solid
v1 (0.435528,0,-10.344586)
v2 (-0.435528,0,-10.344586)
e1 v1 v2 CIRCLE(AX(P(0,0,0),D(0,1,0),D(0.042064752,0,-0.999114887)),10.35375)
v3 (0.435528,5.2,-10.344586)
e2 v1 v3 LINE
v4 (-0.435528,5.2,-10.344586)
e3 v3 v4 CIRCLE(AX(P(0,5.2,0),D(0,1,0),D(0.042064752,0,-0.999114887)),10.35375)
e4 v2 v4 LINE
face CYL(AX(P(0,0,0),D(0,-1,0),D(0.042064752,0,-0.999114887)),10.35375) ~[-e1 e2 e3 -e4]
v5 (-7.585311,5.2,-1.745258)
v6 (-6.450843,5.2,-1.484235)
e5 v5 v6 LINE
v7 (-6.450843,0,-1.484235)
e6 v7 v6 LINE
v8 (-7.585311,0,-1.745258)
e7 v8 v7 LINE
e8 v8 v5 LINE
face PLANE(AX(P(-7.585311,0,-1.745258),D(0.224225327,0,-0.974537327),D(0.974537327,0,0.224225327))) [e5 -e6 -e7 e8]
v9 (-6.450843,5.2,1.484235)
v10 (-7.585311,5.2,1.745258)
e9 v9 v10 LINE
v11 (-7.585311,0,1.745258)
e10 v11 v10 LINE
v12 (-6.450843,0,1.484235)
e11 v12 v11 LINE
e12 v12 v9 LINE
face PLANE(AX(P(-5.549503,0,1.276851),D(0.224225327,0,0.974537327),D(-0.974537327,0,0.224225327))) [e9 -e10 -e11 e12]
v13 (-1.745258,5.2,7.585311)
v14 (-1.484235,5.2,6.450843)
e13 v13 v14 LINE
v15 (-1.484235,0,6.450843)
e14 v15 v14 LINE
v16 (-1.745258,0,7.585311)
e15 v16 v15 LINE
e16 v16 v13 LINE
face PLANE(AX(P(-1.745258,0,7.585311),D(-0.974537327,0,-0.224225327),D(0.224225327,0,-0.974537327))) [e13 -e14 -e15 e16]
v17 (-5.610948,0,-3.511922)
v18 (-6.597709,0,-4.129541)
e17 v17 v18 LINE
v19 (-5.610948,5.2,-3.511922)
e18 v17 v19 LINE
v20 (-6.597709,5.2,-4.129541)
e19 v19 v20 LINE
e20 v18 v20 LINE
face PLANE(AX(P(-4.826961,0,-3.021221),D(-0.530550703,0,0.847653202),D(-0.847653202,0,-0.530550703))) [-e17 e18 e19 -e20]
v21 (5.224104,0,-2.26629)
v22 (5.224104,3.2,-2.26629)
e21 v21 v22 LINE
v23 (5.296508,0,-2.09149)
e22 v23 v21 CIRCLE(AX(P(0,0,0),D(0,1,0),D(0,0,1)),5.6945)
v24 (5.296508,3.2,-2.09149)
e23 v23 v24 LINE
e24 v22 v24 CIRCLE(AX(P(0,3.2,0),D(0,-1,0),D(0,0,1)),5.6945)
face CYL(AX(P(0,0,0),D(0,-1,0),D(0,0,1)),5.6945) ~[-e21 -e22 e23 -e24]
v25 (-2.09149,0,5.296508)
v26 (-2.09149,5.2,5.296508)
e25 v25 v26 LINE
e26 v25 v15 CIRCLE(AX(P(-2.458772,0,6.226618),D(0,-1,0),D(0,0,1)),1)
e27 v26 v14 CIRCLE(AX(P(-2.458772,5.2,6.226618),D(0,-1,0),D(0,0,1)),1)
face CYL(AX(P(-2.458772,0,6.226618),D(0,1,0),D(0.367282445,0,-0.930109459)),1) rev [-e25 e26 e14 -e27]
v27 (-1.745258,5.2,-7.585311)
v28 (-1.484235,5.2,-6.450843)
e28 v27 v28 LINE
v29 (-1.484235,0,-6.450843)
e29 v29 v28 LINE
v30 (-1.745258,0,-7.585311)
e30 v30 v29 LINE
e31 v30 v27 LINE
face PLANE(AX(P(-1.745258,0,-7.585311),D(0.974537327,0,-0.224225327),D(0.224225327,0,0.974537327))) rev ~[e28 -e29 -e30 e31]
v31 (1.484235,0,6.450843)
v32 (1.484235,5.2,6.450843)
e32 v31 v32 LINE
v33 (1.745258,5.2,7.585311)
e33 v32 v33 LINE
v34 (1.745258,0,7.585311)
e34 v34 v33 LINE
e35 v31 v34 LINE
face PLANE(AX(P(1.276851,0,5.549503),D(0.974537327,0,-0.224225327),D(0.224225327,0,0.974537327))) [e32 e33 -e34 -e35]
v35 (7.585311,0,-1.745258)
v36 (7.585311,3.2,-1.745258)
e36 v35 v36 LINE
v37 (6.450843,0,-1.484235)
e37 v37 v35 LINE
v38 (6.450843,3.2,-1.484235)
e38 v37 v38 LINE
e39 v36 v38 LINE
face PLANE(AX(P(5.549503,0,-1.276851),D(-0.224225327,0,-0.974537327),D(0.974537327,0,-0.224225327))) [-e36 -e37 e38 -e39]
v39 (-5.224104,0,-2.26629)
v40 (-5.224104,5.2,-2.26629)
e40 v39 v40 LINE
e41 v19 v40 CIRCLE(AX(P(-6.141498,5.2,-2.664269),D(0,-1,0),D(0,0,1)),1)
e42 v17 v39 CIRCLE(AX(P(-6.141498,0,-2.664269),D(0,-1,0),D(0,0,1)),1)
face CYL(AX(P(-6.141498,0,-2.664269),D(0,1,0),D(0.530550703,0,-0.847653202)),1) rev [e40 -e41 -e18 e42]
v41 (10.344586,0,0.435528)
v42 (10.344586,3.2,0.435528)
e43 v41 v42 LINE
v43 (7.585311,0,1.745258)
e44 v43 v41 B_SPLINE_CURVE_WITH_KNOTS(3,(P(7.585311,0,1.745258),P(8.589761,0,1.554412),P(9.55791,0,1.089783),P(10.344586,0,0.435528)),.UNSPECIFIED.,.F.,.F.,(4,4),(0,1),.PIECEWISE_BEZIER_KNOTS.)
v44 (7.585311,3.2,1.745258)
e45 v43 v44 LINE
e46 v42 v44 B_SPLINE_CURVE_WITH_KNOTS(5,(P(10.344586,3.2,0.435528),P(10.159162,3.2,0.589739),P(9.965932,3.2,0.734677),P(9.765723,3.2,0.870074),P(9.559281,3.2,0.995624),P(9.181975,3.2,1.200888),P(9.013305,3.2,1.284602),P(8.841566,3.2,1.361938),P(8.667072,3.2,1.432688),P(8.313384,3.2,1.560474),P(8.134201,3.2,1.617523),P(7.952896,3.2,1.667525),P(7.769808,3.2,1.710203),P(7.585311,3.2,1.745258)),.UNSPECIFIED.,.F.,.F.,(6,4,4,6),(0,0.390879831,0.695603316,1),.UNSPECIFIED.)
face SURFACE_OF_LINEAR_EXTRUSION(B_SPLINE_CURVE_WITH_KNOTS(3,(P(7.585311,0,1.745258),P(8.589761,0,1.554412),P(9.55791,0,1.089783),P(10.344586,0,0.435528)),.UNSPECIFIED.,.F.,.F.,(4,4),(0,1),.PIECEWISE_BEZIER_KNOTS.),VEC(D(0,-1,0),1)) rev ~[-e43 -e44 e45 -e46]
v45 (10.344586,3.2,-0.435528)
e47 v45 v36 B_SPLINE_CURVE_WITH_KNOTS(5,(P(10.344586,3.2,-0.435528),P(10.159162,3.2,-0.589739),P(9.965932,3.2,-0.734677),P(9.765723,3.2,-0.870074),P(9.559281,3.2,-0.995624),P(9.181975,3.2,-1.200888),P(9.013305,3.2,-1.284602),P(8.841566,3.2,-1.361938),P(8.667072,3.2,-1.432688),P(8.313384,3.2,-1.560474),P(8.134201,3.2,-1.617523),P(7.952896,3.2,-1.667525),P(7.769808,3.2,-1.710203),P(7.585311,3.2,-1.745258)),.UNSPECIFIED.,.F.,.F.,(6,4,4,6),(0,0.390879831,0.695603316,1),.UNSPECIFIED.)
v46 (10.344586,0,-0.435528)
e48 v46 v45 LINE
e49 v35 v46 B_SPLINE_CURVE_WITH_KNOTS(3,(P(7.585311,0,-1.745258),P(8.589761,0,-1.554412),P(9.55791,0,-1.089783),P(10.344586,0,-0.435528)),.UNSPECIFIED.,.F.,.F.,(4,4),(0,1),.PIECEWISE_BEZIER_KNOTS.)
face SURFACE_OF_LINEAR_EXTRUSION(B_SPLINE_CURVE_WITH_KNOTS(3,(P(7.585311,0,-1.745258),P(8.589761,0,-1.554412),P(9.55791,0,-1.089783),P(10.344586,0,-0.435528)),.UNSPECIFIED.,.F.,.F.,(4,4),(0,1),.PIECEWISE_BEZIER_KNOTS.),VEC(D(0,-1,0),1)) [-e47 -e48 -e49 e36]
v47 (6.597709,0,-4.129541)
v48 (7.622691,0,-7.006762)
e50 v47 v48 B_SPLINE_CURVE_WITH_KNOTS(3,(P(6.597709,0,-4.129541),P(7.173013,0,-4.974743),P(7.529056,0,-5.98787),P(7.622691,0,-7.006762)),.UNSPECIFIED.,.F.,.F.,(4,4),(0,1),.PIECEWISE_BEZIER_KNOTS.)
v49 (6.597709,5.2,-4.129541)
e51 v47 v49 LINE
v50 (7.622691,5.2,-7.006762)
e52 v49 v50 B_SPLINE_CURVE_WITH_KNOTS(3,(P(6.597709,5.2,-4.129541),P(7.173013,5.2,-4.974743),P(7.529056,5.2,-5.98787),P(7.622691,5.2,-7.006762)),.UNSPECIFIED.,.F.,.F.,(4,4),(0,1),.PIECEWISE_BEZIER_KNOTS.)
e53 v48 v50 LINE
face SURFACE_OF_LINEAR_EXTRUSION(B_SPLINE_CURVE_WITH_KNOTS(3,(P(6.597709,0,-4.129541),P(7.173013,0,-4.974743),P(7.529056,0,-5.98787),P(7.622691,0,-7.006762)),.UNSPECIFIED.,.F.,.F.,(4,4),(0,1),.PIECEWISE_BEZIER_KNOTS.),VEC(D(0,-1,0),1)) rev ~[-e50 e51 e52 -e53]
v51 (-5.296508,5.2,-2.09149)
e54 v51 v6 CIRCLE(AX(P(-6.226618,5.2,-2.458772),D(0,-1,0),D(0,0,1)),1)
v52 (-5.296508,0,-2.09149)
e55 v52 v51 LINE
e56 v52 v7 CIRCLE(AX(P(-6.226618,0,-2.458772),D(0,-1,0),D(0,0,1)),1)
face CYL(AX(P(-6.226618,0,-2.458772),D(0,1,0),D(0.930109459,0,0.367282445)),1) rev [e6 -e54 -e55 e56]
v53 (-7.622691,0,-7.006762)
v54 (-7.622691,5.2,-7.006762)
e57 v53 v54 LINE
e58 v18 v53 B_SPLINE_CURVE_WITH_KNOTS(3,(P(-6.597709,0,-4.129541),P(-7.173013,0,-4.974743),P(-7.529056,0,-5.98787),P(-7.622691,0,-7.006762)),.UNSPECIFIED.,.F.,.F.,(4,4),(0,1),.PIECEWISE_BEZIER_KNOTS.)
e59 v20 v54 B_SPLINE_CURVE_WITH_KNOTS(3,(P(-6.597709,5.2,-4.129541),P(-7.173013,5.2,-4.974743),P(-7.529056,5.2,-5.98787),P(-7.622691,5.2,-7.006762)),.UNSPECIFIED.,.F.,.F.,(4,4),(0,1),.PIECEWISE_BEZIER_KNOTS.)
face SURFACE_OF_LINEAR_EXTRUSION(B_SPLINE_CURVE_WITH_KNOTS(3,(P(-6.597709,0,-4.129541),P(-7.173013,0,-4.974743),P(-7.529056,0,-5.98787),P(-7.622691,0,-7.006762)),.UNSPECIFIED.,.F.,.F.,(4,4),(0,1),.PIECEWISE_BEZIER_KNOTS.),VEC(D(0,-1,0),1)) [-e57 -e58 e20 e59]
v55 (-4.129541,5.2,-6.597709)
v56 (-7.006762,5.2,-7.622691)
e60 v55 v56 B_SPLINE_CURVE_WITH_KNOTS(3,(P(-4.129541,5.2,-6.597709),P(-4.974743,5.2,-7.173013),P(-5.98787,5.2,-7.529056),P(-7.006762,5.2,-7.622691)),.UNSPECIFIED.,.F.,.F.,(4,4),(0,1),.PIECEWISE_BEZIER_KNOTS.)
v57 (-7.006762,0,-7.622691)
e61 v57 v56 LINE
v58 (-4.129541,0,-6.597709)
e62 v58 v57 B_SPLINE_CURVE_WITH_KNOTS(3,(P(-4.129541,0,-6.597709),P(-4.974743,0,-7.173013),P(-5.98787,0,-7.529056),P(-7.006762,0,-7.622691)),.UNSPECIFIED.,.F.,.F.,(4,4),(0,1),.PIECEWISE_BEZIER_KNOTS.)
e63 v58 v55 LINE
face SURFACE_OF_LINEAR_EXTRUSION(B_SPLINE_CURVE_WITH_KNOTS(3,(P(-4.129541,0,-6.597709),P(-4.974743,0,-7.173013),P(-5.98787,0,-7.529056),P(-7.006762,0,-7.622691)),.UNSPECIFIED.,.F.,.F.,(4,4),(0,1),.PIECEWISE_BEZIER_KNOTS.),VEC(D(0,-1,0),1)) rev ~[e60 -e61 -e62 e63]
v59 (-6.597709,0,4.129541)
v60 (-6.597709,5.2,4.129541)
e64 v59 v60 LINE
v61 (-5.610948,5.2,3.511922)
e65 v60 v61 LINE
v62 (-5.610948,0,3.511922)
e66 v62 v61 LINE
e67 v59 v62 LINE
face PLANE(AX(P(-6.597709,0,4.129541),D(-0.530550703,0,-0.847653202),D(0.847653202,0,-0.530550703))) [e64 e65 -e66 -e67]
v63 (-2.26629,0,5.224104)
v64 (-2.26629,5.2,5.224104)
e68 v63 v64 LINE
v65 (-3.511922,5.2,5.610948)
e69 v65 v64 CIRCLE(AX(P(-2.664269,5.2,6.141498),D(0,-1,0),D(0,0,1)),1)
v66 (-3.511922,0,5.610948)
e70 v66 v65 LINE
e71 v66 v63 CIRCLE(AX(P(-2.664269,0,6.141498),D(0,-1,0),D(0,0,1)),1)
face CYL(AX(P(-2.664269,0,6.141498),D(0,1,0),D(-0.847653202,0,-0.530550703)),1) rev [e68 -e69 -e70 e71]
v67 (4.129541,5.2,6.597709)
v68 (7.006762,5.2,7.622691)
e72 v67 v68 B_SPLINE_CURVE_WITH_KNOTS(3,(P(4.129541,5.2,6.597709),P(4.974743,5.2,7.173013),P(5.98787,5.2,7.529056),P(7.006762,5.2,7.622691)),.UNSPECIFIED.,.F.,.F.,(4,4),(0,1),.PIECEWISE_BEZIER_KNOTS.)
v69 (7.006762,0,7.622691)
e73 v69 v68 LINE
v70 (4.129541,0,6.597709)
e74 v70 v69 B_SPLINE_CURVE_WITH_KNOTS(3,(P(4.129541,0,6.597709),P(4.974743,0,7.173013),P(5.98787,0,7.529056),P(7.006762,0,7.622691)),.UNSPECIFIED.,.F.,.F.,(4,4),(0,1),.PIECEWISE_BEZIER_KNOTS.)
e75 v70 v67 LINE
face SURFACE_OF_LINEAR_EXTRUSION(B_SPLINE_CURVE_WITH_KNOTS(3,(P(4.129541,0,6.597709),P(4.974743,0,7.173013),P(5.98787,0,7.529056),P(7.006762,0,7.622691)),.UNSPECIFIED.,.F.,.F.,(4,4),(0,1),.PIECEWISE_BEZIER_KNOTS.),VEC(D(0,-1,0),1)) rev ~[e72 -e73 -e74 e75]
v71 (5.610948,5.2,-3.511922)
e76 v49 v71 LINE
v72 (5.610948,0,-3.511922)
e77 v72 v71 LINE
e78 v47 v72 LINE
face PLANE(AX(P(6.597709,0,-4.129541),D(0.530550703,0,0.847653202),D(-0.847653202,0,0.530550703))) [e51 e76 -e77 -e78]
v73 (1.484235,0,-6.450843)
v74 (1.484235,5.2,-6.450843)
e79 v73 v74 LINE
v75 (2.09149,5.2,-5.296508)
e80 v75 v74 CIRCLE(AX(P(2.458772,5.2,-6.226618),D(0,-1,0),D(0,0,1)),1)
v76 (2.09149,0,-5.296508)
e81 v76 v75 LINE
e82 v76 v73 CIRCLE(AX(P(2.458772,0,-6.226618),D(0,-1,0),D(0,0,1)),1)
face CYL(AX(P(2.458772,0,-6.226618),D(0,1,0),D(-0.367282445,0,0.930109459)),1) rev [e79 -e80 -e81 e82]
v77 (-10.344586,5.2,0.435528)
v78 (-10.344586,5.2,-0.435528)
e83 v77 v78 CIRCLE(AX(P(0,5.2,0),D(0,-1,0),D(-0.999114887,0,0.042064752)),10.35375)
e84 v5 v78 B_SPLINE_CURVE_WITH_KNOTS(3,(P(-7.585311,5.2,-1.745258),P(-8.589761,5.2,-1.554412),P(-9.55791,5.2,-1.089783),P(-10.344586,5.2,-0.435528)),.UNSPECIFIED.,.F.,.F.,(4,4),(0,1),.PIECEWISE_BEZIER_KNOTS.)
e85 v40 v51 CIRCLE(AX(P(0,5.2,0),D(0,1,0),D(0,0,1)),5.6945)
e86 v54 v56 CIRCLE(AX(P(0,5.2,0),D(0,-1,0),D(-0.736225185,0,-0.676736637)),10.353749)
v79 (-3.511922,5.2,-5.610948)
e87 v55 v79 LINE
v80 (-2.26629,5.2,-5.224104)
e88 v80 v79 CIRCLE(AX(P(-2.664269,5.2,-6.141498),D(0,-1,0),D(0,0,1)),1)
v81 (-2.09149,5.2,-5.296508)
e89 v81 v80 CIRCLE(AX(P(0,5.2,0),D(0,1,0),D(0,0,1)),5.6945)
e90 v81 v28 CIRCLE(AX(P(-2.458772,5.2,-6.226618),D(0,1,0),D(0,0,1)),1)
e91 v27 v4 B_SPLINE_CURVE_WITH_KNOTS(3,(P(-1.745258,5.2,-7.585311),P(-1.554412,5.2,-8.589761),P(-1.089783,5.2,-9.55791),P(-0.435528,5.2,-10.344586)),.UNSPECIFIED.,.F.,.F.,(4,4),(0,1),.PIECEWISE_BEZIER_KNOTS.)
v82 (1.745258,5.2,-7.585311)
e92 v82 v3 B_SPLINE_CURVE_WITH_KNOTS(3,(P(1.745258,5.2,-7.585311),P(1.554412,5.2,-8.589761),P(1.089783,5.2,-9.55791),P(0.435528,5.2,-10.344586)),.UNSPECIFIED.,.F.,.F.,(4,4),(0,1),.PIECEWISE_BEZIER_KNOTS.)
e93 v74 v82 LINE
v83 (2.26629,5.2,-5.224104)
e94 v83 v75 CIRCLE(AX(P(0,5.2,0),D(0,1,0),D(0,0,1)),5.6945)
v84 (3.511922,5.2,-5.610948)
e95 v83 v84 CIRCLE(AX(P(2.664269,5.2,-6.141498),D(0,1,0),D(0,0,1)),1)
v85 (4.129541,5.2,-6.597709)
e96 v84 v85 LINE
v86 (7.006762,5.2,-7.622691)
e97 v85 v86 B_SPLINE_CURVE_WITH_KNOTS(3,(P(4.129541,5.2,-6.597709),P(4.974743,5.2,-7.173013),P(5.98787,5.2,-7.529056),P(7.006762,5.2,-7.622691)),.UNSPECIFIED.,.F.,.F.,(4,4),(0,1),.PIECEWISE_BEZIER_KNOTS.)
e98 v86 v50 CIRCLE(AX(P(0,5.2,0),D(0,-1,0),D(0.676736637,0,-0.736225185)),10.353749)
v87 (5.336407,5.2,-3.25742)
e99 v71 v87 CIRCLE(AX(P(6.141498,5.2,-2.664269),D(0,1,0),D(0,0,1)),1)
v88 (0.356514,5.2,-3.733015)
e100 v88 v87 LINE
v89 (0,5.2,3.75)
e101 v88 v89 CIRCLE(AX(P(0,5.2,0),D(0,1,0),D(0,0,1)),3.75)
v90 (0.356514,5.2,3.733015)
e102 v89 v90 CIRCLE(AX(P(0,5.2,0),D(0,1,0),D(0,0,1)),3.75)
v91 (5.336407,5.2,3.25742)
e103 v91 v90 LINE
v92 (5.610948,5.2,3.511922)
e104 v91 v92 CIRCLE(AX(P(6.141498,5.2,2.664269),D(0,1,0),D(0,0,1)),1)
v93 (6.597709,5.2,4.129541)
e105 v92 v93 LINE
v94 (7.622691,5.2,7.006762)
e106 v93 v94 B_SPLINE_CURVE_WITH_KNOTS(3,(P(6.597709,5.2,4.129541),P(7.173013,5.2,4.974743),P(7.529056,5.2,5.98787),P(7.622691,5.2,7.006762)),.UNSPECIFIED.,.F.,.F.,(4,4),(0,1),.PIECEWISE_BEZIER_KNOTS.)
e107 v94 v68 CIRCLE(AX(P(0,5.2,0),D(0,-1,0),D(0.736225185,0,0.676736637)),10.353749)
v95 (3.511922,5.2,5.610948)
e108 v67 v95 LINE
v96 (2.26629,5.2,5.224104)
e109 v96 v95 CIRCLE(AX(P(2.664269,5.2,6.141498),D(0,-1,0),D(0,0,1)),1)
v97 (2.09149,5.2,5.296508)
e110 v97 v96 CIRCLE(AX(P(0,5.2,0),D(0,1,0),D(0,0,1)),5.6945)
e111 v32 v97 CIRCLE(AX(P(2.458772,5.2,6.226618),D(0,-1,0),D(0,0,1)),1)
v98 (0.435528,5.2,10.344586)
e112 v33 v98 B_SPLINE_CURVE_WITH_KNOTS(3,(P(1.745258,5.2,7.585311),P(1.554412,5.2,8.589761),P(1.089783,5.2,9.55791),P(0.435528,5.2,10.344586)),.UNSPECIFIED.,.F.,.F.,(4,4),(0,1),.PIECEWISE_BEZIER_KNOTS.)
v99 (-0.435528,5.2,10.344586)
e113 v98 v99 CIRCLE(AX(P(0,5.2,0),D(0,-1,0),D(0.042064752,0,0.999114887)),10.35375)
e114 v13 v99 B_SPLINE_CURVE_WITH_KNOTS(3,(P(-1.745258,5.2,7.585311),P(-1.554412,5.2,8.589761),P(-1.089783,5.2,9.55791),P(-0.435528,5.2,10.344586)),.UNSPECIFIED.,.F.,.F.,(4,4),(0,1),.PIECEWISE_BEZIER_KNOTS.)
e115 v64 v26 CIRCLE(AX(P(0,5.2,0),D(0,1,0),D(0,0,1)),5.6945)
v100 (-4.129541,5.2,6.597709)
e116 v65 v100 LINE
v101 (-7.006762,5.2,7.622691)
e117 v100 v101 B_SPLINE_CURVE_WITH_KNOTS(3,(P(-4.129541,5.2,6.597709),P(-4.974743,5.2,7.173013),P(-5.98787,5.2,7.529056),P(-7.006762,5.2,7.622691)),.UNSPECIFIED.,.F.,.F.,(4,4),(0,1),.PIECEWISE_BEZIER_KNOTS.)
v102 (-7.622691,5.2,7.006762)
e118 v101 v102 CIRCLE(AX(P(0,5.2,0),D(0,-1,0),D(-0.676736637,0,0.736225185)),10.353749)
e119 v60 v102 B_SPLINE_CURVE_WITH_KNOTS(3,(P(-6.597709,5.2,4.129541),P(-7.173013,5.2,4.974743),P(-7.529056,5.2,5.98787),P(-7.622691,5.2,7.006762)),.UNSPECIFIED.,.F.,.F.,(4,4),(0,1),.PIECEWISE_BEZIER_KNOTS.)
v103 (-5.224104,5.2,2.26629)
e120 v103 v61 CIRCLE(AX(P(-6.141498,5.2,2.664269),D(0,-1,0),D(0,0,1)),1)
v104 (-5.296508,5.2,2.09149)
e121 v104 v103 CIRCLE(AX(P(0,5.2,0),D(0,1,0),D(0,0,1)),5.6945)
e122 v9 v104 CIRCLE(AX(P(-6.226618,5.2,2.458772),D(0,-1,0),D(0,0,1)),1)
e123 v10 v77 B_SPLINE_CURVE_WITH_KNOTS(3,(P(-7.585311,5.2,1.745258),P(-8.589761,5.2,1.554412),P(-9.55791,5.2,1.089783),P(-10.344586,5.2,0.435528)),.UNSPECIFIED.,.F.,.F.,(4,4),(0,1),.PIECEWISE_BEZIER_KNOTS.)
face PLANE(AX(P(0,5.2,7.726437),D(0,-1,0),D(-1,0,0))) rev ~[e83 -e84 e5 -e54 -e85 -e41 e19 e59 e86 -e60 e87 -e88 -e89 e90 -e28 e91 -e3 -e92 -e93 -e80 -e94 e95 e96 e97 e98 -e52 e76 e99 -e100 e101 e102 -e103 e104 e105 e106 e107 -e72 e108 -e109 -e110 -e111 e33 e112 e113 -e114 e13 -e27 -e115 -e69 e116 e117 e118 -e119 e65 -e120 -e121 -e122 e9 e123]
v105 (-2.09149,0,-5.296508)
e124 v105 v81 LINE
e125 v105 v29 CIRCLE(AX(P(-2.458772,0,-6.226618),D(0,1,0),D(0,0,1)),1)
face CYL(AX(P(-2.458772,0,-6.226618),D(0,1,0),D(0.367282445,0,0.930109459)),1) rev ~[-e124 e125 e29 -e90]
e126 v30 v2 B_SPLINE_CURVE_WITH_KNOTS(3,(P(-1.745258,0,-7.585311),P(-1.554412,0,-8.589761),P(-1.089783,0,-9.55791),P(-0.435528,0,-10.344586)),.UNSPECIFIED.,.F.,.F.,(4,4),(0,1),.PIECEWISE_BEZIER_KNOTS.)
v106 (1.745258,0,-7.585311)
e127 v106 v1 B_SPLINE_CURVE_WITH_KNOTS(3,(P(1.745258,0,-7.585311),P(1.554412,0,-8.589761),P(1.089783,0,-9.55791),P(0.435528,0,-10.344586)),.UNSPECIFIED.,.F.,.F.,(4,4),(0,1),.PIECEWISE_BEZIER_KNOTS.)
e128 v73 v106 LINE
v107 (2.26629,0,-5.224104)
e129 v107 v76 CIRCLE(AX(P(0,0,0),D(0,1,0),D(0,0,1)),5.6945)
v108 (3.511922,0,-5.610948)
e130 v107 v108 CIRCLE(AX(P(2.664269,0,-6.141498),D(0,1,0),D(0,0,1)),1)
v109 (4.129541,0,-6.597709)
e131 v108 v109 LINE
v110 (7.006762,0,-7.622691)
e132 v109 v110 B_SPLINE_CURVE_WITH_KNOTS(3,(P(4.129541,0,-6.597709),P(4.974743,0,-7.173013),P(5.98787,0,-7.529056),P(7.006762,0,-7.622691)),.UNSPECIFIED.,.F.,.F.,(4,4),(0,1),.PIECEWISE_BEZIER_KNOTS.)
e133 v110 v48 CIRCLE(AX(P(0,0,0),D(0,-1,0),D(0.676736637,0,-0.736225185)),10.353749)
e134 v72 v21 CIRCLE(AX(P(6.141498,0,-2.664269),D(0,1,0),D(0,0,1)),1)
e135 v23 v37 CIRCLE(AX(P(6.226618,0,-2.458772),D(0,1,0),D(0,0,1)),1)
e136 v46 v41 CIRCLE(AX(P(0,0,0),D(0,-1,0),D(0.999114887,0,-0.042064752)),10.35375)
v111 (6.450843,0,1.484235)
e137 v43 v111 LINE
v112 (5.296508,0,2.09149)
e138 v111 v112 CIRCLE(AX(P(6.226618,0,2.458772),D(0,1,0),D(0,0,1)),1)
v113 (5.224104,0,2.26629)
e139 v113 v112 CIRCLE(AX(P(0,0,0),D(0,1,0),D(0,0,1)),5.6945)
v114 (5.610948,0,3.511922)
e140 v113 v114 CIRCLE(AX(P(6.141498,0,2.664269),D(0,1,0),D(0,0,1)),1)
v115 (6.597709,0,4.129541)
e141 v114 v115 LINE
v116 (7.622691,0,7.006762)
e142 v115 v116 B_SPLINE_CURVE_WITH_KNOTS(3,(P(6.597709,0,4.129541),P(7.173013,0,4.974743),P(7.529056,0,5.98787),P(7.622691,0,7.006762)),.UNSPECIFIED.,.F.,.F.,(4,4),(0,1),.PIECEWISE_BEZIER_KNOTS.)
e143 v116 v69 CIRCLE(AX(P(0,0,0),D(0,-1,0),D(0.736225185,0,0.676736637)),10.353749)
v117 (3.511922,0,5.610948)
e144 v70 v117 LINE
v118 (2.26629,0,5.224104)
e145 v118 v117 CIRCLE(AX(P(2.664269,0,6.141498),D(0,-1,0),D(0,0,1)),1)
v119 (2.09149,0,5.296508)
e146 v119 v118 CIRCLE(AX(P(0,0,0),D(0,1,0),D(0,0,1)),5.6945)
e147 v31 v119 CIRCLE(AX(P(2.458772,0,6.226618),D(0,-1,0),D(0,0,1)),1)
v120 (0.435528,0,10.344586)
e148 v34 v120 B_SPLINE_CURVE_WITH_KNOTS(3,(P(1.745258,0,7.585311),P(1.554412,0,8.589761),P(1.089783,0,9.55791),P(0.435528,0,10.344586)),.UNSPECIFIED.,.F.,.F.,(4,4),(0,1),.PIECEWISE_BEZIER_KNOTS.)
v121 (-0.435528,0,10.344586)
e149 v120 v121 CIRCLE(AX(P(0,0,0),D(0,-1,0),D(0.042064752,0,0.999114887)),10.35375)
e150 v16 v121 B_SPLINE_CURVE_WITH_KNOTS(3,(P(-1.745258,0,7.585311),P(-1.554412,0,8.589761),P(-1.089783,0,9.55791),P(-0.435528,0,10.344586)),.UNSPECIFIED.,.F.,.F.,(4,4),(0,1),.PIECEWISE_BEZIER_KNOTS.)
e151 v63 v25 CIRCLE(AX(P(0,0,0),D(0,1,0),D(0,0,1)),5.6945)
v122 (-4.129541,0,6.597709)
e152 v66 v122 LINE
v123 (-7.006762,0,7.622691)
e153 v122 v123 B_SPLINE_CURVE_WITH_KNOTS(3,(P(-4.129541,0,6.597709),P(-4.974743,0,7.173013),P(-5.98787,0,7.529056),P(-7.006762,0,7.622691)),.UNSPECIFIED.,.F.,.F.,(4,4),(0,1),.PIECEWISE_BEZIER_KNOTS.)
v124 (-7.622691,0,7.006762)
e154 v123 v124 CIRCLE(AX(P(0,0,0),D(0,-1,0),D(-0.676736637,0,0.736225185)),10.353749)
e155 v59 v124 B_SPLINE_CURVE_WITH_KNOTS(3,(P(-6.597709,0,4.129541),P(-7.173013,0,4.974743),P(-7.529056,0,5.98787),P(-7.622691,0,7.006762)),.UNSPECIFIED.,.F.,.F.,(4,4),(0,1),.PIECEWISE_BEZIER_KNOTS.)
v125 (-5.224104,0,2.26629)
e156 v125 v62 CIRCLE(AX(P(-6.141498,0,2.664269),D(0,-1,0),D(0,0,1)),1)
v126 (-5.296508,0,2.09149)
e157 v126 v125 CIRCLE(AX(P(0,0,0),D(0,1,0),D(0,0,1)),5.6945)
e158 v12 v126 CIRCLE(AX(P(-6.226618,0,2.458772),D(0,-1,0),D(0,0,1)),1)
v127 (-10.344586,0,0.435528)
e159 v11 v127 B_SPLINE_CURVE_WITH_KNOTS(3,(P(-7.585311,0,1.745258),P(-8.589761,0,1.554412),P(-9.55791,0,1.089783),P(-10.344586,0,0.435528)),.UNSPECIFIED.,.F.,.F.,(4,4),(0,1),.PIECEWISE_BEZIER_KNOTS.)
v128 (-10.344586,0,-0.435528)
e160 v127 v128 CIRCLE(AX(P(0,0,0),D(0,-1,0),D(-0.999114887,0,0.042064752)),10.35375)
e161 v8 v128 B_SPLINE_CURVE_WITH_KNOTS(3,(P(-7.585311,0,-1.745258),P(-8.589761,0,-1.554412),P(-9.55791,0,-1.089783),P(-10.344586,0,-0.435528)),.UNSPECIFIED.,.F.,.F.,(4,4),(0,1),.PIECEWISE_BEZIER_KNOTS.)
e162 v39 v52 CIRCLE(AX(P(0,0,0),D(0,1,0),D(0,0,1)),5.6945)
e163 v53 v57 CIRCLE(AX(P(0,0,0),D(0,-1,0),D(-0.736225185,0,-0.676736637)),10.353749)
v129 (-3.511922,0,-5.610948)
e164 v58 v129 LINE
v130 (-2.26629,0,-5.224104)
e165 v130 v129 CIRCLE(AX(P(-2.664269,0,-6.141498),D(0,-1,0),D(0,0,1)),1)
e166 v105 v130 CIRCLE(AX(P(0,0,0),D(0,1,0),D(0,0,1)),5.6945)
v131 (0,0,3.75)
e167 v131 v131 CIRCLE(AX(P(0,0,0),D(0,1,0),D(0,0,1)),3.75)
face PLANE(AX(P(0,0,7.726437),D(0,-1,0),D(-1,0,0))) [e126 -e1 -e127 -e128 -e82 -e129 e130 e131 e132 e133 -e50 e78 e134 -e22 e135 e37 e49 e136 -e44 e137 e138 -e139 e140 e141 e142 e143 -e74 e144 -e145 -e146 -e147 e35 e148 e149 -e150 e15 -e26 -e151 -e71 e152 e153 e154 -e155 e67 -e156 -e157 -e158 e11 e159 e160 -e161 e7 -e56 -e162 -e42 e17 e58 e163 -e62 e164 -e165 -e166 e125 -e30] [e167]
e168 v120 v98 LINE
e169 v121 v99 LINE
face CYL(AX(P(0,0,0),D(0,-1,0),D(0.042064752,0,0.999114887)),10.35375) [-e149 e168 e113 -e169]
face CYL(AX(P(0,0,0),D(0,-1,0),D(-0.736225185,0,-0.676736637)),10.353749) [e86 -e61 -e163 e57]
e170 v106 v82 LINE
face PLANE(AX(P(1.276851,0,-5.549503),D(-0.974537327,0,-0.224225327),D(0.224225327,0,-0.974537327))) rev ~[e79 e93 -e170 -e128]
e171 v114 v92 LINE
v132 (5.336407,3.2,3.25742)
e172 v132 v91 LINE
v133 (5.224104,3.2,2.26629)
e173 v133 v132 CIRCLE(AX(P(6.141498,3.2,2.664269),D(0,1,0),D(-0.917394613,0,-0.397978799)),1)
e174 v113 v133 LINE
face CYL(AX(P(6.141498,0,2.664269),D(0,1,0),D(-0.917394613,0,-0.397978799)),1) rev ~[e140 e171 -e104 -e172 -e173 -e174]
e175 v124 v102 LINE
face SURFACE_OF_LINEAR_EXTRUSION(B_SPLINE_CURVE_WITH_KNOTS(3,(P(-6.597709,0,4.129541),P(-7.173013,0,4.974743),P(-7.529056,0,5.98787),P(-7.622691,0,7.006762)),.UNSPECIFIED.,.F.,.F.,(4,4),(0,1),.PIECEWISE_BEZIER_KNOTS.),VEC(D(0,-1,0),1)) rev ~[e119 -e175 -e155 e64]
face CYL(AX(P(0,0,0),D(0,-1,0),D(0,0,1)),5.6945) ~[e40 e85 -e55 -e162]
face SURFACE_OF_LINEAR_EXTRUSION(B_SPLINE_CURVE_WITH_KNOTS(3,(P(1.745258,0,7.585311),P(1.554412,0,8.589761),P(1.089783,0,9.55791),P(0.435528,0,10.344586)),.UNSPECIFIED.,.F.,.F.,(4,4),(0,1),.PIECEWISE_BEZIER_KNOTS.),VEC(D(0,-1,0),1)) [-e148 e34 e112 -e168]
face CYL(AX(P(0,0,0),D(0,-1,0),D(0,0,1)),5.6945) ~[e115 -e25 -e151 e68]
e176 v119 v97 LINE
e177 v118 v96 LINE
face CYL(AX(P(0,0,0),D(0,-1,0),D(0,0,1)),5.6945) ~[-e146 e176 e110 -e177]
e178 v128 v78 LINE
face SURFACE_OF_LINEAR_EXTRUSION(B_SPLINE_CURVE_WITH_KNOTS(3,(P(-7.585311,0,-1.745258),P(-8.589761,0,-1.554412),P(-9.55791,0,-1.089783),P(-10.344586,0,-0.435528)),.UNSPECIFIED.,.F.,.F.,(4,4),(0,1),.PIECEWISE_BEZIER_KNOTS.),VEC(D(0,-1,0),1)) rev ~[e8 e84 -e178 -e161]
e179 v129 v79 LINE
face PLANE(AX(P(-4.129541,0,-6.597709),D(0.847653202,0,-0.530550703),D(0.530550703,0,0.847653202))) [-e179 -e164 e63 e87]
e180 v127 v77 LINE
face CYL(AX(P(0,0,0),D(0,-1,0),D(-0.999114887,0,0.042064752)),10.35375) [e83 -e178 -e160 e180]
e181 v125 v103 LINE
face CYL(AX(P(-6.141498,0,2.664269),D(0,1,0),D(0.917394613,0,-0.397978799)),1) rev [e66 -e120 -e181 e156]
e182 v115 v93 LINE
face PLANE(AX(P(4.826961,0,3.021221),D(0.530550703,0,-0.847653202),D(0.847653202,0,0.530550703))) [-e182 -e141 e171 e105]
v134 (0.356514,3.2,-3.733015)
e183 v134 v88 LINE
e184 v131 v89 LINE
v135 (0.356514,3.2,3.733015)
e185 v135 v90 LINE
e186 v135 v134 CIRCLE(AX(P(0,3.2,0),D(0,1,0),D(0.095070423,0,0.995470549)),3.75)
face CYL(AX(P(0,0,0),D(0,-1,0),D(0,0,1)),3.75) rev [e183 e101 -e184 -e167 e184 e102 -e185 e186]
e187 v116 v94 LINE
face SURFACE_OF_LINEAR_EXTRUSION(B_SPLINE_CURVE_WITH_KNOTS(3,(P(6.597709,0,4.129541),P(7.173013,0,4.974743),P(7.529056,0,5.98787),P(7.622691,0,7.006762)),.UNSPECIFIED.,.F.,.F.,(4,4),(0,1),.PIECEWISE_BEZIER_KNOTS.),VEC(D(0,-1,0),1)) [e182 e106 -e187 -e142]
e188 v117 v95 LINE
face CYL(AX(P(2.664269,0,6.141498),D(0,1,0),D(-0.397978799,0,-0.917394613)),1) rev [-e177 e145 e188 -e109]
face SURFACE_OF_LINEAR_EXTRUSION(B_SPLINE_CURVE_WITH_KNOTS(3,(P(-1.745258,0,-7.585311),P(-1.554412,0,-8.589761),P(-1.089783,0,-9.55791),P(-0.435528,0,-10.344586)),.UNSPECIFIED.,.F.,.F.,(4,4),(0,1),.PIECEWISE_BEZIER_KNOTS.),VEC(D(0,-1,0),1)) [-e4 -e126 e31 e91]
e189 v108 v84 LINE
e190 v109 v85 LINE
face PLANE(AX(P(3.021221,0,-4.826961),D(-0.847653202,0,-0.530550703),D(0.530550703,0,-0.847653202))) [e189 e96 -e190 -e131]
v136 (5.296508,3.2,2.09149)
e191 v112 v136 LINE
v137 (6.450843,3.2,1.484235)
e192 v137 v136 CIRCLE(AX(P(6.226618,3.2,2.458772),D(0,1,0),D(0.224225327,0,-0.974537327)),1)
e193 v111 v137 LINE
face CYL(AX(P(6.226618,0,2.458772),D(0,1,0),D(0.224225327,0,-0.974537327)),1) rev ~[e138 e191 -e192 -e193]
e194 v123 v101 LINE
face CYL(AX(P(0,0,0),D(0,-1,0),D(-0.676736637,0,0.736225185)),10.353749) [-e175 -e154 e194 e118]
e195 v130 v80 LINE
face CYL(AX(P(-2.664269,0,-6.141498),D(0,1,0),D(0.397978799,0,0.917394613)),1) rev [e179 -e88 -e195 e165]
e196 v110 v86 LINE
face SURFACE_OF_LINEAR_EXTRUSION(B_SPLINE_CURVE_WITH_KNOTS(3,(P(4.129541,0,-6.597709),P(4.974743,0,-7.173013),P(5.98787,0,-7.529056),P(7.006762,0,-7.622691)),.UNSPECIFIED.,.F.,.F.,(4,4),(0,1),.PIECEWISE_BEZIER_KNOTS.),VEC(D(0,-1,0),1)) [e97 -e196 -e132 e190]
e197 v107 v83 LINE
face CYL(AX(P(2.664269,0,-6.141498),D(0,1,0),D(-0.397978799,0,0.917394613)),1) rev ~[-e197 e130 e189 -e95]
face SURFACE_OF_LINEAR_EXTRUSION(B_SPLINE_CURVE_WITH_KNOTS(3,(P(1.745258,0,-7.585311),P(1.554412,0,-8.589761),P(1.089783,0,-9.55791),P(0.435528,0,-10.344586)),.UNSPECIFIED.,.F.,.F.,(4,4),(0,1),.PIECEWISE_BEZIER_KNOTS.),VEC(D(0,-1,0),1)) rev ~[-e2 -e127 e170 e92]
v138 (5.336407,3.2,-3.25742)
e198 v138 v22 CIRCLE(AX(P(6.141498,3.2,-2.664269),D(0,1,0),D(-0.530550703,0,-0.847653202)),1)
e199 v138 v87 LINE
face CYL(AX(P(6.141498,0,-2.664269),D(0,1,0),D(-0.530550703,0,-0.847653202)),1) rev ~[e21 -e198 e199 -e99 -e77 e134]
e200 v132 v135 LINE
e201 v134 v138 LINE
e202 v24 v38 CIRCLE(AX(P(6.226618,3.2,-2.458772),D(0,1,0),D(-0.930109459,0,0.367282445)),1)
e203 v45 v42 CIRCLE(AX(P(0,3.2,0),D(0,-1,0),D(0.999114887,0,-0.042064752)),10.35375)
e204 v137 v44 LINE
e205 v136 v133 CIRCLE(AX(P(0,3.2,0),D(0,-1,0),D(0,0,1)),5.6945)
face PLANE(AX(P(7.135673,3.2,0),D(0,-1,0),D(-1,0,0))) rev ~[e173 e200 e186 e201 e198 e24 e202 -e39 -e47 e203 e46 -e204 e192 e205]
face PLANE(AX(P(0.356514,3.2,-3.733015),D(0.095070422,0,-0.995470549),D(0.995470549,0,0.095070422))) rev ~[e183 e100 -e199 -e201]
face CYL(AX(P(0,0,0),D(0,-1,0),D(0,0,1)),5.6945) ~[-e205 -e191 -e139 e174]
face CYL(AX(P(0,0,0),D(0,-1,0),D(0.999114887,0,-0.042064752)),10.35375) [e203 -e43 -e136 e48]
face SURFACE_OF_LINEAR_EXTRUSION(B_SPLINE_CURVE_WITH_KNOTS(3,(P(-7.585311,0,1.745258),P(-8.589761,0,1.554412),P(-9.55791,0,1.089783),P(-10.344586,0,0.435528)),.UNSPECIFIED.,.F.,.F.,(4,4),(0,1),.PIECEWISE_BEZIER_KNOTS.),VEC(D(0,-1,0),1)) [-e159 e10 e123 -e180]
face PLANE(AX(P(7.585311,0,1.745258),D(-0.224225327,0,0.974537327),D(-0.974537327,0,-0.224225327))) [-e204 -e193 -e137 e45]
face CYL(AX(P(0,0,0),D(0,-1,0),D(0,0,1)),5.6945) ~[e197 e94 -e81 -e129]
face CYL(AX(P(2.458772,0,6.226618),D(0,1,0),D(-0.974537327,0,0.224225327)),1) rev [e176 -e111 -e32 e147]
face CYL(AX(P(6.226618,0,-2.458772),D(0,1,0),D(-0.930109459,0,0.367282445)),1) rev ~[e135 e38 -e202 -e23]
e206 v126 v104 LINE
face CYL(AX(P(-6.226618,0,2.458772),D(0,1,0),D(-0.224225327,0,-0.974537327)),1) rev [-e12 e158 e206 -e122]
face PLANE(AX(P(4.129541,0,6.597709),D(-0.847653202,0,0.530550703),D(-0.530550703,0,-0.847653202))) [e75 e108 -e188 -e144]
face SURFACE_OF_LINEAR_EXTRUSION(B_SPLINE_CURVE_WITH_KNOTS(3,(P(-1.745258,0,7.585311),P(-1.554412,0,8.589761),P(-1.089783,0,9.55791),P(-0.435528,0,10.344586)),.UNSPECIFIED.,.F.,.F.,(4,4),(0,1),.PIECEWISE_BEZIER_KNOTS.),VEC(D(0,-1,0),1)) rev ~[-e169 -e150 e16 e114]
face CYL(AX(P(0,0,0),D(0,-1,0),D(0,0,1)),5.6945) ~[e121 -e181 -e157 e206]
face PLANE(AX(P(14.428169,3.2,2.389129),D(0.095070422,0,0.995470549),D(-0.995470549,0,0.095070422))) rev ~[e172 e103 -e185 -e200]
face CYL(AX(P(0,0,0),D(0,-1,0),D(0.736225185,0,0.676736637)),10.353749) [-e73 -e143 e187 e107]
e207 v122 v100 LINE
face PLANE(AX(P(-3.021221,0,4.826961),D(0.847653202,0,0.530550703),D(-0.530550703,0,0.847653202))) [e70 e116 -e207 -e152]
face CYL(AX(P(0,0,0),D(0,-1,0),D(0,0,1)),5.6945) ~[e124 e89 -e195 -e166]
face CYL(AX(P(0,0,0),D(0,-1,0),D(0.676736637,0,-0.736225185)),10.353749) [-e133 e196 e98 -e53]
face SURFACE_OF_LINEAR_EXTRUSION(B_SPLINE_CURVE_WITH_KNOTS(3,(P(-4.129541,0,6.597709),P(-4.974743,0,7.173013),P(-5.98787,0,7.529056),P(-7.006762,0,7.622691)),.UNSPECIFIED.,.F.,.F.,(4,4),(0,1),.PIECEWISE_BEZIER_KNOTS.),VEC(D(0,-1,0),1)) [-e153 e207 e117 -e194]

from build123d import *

# Parameters (mm, degrees)
SKETCH1_R           = 5.6945
SKETCH1_R_2         = 3.75
BOSS_EXTRUDE1_DEPTH = 5.2
BOSS_EXTRUDE3_START = -5.2
BOSS_EXTRUDE3_DEPTH = 5.2
FILLET1_R           = 1
FILLET2_R           = 1
CUT_EXTRUDE1_START  = -2
CUT_EXTRUDE1_DEPTH  = 2


with BuildPart() as part:
    # Sketch1 → Boss-Extrude1 (new body)
    with BuildSketch(Plane(origin=(0, 0, 0), x_dir=(1, 0, 0), z_dir=(0, 1, 0))):
        with Locations(Location((0, 0, 0), (0, 0, 270))):
            Circle(SKETCH1_R)
        with Locations(Location((0, 0, 0), (0, 0, 270))):
            Circle(SKETCH1_R_2, mode=Mode.SUBTRACT)
    extrude(amount=BOSS_EXTRUDE1_DEPTH)

    # Sketch2 → Boss-Extrude3 (add)
    with BuildSketch(Plane(origin=(0, 5.2, 0), x_dir=(1, 0, 0), z_dir=(0, 1, 0)).offset(BOSS_EXTRUDE3_START)):
        with BuildLine():
            Line((1.276851128, 5.549502811), (1.745257837, 7.585311288))
            add(Edge.make_bspline(
                [(1.745257837, 7.585311288), (1.554411596, 8.589760917), (1.089783036, 9.55790996), (0.435527939, 10.344585757)],
                knots=[0, 0, 0, 0, 1, 1, 1, 1], degree=3))
            ThreePointArc((0.435527939, 10.344585757), (0, 10.35375), (-0.435527939, 10.344585757))
            add(Edge.make_bspline(
                [(-1.745257837, 7.585311288), (-1.554411596, 8.589760917), (-1.089783036, 9.55790996), (-0.435527939, 10.344585757)],
                knots=[0, 0, 0, 0, 1, 1, 1, 1], degree=3))
            Line((-1.745257837, 7.585311288), (-1.276851128, 5.549502811))
            ThreePointArc((-1.276851128, 5.549502811), (0, 5.6945), (1.276851128, 5.549502811))
        make_face()
        with BuildLine():
            Line((3.021220978, 4.826961161), (4.129541397, 6.597708701))
            add(Edge.make_bspline(
                [(4.129541397, 6.597708701), (4.974743213, 7.173013173), (5.987869972, 7.529055922), (7.006761978, 7.622691496)],
                knots=[0, 0, 0, 0, 1, 1, 1, 1], degree=3))
            ThreePointArc((7.006761978, 7.622691496), (7.321206836, 7.321206836), (7.622691496, 7.006761978))
            add(Edge.make_bspline(
                [(6.597708701, 4.129541397), (7.173013173, 4.974743213), (7.529055922, 5.987869972), (7.622691496, 7.006761978)],
                knots=[0, 0, 0, 0, 1, 1, 1, 1], degree=3))
            Line((6.597708701, 4.129541397), (4.826961161, 3.021220978))
            ThreePointArc((4.826961161, 3.021220978), (4.026619565, 4.026619565), (3.021220978, 4.826961161))
        make_face()
        with BuildLine():
            Line((5.549502811, 1.276851128), (7.585311288, 1.745257837))
            add(Edge.make_bspline(
                [(7.585311288, 1.745257837), (8.589760917, 1.554411596), (9.55790996, 1.089783036), (10.344585757, 0.435527939)],
                knots=[0, 0, 0, 0, 1, 1, 1, 1], degree=3))
            ThreePointArc((10.344585757, 0.435527939), (10.35375, 0), (10.344585757, -0.435527939))
            add(Edge.make_bspline(
                [(7.585311288, -1.745257837), (8.589760917, -1.554411596), (9.55790996, -1.089783036), (10.344585757, -0.435527939)],
                knots=[0, 0, 0, 0, 1, 1, 1, 1], degree=3))
            Line((7.585311288, -1.745257837), (5.549502811, -1.276851128))
            ThreePointArc((5.549502811, -1.276851128), (5.6945, 0), (5.549502811, 1.276851128))
        make_face()
        with BuildLine():
            Line((4.826961161, -3.021220978), (6.597708701, -4.129541397))
            add(Edge.make_bspline(
                [(6.597708701, -4.129541397), (7.173013173, -4.974743213), (7.529055922, -5.987869972), (7.622691496, -7.006761978)],
                knots=[0, 0, 0, 0, 1, 1, 1, 1], degree=3))
            ThreePointArc((7.622691496, -7.006761978), (7.321206836, -7.321206836), (7.006761978, -7.622691496))
            add(Edge.make_bspline(
                [(4.129541397, -6.597708701), (4.974743213, -7.173013173), (5.987869972, -7.529055922), (7.006761978, -7.622691496)],
                knots=[0, 0, 0, 0, 1, 1, 1, 1], degree=3))
            Line((4.129541397, -6.597708701), (3.021220978, -4.826961161))
            ThreePointArc((3.021220978, -4.826961161), (4.026619565, -4.026619565), (4.826961161, -3.021220978))
        make_face()
        with BuildLine():
            Line((1.276851128, -5.549502811), (1.745257837, -7.585311288))
            add(Edge.make_bspline(
                [(1.745257837, -7.585311288), (1.554411596, -8.589760917), (1.089783036, -9.55790996), (0.435527939, -10.344585757)],
                knots=[0, 0, 0, 0, 1, 1, 1, 1], degree=3))
            ThreePointArc((0.435527939, -10.344585757), (0, -10.35375), (-0.435527939, -10.344585757))
            add(Edge.make_bspline(
                [(-1.745257837, -7.585311288), (-1.554411596, -8.589760917), (-1.089783036, -9.55790996), (-0.435527939, -10.344585757)],
                knots=[0, 0, 0, 0, 1, 1, 1, 1], degree=3))
            Line((-1.745257837, -7.585311288), (-1.276851128, -5.549502811))
            ThreePointArc((-1.276851128, -5.549502811), (0, -5.6945), (1.276851128, -5.549502811))
        make_face()
        with BuildLine():
            Line((-3.021220978, -4.826961161), (-4.129541397, -6.597708701))
            add(Edge.make_bspline(
                [(-4.129541397, -6.597708701), (-4.974743213, -7.173013173), (-5.987869972, -7.529055922), (-7.006761978, -7.622691496)],
                knots=[0, 0, 0, 0, 1, 1, 1, 1], degree=3))
            ThreePointArc((-7.006761978, -7.622691496), (-7.321206836, -7.321206836), (-7.622691496, -7.006761978))
            add(Edge.make_bspline(
                [(-6.597708701, -4.129541397), (-7.173013173, -4.974743213), (-7.529055922, -5.987869972), (-7.622691496, -7.006761978)],
                knots=[0, 0, 0, 0, 1, 1, 1, 1], degree=3))
            Line((-6.597708701, -4.129541397), (-4.826961161, -3.021220978))
            ThreePointArc((-4.826961161, -3.021220978), (-4.026619565, -4.026619565), (-3.021220978, -4.826961161))
        make_face()
        with BuildLine():
            Line((-5.549502811, -1.276851128), (-7.585311288, -1.745257837))
            add(Edge.make_bspline(
                [(-7.585311288, -1.745257837), (-8.589760917, -1.554411596), (-9.55790996, -1.089783036), (-10.344585757, -0.435527939)],
                knots=[0, 0, 0, 0, 1, 1, 1, 1], degree=3))
            ThreePointArc((-10.344585757, -0.435527939), (-10.35375, 0), (-10.344585757, 0.435527939))
            add(Edge.make_bspline(
                [(-7.585311288, 1.745257837), (-8.589760917, 1.554411596), (-9.55790996, 1.089783036), (-10.344585757, 0.435527939)],
                knots=[0, 0, 0, 0, 1, 1, 1, 1], degree=3))
            Line((-7.585311288, 1.745257837), (-5.549502811, 1.276851128))
            ThreePointArc((-5.549502811, 1.276851128), (-5.6945, 0), (-5.549502811, -1.276851128))
        make_face()
        with BuildLine():
            Line((-4.826961161, 3.021220978), (-6.597708701, 4.129541397))
            add(Edge.make_bspline(
                [(-6.597708701, 4.129541397), (-7.173013173, 4.974743213), (-7.529055922, 5.987869972), (-7.622691496, 7.006761978)],
                knots=[0, 0, 0, 0, 1, 1, 1, 1], degree=3))
            ThreePointArc((-7.622691496, 7.006761978), (-7.321206836, 7.321206836), (-7.006761978, 7.622691496))
            add(Edge.make_bspline(
                [(-4.129541397, 6.597708701), (-4.974743213, 7.173013173), (-5.987869972, 7.529055922), (-7.006761978, 7.622691496)],
                knots=[0, 0, 0, 0, 1, 1, 1, 1], degree=3))
            Line((-4.129541397, 6.597708701), (-3.021220978, 4.826961161))
            ThreePointArc((-3.021220978, 4.826961161), (-4.026619565, 4.026619565), (-4.826961161, 3.021220978))
        make_face()
    extrude(amount=BOSS_EXTRUDE3_DEPTH)

    # Fillet1
    fillet1_edges = [part.edges().sort_by_distance(p)[0] for p in [
        (1.276851128, 2.6, -5.549502811),
        (-1.276851128, 2.6, -5.549502811),
    ]]
    fillet(fillet1_edges, radius=FILLET1_R)

    # Fillet2
    fillet2_edges = [part.edges().sort_by_distance(p)[0] for p in [
        (-5.549502811, 2.6, -1.276851128),
        (-5.549502811, 2.6, 1.276851128),
        (-3.021220978, 2.6, -4.826961161),
        (-4.826961161, 2.6, -3.021220978),
        (4.826961161, 2.6, -3.021220978),
        (3.021220978, 2.6, -4.826961161),
        (5.549502811, 2.6, 1.276851128),
        (5.549502811, 2.6, -1.276851128),
        (3.021220978, 2.6, 4.826961161),
        (4.826961161, 2.6, 3.021220978),
        (-1.276851128, 2.6, 5.549502811),
        (1.276851128, 2.6, 5.549502811),
        (-4.826961161, 2.6, 3.021220978),
        (-3.021220978, 2.6, 4.826961161),
    ]]
    fillet(fillet2_edges, radius=FILLET2_R)

    # Sketch3 → Cut-Extrude1 (cut)
    with BuildSketch(Plane(origin=(0, 5.2, 0), x_dir=(1, 0, 0), z_dir=(0, 1, 0)).offset(CUT_EXTRUDE1_START)):
        with BuildLine():
            Line((0.356514085, 3.73301456), (14.428169014, 2.389129319))
            ThreePointArc((14.428169014, 2.389129319), (11.8, 0), (14.428169014, -2.389129319))
            Line((14.428169014, -2.389129319), (0.356514085, -3.73301456))
            ThreePointArc((0.356514085, -3.73301456), (3.75, 0), (0.356514085, 3.73301456))
        make_face()
    extrude(amount=CUT_EXTRUDE1_DEPTH, mode=Mode.SUBTRACT)


solid = part.part
